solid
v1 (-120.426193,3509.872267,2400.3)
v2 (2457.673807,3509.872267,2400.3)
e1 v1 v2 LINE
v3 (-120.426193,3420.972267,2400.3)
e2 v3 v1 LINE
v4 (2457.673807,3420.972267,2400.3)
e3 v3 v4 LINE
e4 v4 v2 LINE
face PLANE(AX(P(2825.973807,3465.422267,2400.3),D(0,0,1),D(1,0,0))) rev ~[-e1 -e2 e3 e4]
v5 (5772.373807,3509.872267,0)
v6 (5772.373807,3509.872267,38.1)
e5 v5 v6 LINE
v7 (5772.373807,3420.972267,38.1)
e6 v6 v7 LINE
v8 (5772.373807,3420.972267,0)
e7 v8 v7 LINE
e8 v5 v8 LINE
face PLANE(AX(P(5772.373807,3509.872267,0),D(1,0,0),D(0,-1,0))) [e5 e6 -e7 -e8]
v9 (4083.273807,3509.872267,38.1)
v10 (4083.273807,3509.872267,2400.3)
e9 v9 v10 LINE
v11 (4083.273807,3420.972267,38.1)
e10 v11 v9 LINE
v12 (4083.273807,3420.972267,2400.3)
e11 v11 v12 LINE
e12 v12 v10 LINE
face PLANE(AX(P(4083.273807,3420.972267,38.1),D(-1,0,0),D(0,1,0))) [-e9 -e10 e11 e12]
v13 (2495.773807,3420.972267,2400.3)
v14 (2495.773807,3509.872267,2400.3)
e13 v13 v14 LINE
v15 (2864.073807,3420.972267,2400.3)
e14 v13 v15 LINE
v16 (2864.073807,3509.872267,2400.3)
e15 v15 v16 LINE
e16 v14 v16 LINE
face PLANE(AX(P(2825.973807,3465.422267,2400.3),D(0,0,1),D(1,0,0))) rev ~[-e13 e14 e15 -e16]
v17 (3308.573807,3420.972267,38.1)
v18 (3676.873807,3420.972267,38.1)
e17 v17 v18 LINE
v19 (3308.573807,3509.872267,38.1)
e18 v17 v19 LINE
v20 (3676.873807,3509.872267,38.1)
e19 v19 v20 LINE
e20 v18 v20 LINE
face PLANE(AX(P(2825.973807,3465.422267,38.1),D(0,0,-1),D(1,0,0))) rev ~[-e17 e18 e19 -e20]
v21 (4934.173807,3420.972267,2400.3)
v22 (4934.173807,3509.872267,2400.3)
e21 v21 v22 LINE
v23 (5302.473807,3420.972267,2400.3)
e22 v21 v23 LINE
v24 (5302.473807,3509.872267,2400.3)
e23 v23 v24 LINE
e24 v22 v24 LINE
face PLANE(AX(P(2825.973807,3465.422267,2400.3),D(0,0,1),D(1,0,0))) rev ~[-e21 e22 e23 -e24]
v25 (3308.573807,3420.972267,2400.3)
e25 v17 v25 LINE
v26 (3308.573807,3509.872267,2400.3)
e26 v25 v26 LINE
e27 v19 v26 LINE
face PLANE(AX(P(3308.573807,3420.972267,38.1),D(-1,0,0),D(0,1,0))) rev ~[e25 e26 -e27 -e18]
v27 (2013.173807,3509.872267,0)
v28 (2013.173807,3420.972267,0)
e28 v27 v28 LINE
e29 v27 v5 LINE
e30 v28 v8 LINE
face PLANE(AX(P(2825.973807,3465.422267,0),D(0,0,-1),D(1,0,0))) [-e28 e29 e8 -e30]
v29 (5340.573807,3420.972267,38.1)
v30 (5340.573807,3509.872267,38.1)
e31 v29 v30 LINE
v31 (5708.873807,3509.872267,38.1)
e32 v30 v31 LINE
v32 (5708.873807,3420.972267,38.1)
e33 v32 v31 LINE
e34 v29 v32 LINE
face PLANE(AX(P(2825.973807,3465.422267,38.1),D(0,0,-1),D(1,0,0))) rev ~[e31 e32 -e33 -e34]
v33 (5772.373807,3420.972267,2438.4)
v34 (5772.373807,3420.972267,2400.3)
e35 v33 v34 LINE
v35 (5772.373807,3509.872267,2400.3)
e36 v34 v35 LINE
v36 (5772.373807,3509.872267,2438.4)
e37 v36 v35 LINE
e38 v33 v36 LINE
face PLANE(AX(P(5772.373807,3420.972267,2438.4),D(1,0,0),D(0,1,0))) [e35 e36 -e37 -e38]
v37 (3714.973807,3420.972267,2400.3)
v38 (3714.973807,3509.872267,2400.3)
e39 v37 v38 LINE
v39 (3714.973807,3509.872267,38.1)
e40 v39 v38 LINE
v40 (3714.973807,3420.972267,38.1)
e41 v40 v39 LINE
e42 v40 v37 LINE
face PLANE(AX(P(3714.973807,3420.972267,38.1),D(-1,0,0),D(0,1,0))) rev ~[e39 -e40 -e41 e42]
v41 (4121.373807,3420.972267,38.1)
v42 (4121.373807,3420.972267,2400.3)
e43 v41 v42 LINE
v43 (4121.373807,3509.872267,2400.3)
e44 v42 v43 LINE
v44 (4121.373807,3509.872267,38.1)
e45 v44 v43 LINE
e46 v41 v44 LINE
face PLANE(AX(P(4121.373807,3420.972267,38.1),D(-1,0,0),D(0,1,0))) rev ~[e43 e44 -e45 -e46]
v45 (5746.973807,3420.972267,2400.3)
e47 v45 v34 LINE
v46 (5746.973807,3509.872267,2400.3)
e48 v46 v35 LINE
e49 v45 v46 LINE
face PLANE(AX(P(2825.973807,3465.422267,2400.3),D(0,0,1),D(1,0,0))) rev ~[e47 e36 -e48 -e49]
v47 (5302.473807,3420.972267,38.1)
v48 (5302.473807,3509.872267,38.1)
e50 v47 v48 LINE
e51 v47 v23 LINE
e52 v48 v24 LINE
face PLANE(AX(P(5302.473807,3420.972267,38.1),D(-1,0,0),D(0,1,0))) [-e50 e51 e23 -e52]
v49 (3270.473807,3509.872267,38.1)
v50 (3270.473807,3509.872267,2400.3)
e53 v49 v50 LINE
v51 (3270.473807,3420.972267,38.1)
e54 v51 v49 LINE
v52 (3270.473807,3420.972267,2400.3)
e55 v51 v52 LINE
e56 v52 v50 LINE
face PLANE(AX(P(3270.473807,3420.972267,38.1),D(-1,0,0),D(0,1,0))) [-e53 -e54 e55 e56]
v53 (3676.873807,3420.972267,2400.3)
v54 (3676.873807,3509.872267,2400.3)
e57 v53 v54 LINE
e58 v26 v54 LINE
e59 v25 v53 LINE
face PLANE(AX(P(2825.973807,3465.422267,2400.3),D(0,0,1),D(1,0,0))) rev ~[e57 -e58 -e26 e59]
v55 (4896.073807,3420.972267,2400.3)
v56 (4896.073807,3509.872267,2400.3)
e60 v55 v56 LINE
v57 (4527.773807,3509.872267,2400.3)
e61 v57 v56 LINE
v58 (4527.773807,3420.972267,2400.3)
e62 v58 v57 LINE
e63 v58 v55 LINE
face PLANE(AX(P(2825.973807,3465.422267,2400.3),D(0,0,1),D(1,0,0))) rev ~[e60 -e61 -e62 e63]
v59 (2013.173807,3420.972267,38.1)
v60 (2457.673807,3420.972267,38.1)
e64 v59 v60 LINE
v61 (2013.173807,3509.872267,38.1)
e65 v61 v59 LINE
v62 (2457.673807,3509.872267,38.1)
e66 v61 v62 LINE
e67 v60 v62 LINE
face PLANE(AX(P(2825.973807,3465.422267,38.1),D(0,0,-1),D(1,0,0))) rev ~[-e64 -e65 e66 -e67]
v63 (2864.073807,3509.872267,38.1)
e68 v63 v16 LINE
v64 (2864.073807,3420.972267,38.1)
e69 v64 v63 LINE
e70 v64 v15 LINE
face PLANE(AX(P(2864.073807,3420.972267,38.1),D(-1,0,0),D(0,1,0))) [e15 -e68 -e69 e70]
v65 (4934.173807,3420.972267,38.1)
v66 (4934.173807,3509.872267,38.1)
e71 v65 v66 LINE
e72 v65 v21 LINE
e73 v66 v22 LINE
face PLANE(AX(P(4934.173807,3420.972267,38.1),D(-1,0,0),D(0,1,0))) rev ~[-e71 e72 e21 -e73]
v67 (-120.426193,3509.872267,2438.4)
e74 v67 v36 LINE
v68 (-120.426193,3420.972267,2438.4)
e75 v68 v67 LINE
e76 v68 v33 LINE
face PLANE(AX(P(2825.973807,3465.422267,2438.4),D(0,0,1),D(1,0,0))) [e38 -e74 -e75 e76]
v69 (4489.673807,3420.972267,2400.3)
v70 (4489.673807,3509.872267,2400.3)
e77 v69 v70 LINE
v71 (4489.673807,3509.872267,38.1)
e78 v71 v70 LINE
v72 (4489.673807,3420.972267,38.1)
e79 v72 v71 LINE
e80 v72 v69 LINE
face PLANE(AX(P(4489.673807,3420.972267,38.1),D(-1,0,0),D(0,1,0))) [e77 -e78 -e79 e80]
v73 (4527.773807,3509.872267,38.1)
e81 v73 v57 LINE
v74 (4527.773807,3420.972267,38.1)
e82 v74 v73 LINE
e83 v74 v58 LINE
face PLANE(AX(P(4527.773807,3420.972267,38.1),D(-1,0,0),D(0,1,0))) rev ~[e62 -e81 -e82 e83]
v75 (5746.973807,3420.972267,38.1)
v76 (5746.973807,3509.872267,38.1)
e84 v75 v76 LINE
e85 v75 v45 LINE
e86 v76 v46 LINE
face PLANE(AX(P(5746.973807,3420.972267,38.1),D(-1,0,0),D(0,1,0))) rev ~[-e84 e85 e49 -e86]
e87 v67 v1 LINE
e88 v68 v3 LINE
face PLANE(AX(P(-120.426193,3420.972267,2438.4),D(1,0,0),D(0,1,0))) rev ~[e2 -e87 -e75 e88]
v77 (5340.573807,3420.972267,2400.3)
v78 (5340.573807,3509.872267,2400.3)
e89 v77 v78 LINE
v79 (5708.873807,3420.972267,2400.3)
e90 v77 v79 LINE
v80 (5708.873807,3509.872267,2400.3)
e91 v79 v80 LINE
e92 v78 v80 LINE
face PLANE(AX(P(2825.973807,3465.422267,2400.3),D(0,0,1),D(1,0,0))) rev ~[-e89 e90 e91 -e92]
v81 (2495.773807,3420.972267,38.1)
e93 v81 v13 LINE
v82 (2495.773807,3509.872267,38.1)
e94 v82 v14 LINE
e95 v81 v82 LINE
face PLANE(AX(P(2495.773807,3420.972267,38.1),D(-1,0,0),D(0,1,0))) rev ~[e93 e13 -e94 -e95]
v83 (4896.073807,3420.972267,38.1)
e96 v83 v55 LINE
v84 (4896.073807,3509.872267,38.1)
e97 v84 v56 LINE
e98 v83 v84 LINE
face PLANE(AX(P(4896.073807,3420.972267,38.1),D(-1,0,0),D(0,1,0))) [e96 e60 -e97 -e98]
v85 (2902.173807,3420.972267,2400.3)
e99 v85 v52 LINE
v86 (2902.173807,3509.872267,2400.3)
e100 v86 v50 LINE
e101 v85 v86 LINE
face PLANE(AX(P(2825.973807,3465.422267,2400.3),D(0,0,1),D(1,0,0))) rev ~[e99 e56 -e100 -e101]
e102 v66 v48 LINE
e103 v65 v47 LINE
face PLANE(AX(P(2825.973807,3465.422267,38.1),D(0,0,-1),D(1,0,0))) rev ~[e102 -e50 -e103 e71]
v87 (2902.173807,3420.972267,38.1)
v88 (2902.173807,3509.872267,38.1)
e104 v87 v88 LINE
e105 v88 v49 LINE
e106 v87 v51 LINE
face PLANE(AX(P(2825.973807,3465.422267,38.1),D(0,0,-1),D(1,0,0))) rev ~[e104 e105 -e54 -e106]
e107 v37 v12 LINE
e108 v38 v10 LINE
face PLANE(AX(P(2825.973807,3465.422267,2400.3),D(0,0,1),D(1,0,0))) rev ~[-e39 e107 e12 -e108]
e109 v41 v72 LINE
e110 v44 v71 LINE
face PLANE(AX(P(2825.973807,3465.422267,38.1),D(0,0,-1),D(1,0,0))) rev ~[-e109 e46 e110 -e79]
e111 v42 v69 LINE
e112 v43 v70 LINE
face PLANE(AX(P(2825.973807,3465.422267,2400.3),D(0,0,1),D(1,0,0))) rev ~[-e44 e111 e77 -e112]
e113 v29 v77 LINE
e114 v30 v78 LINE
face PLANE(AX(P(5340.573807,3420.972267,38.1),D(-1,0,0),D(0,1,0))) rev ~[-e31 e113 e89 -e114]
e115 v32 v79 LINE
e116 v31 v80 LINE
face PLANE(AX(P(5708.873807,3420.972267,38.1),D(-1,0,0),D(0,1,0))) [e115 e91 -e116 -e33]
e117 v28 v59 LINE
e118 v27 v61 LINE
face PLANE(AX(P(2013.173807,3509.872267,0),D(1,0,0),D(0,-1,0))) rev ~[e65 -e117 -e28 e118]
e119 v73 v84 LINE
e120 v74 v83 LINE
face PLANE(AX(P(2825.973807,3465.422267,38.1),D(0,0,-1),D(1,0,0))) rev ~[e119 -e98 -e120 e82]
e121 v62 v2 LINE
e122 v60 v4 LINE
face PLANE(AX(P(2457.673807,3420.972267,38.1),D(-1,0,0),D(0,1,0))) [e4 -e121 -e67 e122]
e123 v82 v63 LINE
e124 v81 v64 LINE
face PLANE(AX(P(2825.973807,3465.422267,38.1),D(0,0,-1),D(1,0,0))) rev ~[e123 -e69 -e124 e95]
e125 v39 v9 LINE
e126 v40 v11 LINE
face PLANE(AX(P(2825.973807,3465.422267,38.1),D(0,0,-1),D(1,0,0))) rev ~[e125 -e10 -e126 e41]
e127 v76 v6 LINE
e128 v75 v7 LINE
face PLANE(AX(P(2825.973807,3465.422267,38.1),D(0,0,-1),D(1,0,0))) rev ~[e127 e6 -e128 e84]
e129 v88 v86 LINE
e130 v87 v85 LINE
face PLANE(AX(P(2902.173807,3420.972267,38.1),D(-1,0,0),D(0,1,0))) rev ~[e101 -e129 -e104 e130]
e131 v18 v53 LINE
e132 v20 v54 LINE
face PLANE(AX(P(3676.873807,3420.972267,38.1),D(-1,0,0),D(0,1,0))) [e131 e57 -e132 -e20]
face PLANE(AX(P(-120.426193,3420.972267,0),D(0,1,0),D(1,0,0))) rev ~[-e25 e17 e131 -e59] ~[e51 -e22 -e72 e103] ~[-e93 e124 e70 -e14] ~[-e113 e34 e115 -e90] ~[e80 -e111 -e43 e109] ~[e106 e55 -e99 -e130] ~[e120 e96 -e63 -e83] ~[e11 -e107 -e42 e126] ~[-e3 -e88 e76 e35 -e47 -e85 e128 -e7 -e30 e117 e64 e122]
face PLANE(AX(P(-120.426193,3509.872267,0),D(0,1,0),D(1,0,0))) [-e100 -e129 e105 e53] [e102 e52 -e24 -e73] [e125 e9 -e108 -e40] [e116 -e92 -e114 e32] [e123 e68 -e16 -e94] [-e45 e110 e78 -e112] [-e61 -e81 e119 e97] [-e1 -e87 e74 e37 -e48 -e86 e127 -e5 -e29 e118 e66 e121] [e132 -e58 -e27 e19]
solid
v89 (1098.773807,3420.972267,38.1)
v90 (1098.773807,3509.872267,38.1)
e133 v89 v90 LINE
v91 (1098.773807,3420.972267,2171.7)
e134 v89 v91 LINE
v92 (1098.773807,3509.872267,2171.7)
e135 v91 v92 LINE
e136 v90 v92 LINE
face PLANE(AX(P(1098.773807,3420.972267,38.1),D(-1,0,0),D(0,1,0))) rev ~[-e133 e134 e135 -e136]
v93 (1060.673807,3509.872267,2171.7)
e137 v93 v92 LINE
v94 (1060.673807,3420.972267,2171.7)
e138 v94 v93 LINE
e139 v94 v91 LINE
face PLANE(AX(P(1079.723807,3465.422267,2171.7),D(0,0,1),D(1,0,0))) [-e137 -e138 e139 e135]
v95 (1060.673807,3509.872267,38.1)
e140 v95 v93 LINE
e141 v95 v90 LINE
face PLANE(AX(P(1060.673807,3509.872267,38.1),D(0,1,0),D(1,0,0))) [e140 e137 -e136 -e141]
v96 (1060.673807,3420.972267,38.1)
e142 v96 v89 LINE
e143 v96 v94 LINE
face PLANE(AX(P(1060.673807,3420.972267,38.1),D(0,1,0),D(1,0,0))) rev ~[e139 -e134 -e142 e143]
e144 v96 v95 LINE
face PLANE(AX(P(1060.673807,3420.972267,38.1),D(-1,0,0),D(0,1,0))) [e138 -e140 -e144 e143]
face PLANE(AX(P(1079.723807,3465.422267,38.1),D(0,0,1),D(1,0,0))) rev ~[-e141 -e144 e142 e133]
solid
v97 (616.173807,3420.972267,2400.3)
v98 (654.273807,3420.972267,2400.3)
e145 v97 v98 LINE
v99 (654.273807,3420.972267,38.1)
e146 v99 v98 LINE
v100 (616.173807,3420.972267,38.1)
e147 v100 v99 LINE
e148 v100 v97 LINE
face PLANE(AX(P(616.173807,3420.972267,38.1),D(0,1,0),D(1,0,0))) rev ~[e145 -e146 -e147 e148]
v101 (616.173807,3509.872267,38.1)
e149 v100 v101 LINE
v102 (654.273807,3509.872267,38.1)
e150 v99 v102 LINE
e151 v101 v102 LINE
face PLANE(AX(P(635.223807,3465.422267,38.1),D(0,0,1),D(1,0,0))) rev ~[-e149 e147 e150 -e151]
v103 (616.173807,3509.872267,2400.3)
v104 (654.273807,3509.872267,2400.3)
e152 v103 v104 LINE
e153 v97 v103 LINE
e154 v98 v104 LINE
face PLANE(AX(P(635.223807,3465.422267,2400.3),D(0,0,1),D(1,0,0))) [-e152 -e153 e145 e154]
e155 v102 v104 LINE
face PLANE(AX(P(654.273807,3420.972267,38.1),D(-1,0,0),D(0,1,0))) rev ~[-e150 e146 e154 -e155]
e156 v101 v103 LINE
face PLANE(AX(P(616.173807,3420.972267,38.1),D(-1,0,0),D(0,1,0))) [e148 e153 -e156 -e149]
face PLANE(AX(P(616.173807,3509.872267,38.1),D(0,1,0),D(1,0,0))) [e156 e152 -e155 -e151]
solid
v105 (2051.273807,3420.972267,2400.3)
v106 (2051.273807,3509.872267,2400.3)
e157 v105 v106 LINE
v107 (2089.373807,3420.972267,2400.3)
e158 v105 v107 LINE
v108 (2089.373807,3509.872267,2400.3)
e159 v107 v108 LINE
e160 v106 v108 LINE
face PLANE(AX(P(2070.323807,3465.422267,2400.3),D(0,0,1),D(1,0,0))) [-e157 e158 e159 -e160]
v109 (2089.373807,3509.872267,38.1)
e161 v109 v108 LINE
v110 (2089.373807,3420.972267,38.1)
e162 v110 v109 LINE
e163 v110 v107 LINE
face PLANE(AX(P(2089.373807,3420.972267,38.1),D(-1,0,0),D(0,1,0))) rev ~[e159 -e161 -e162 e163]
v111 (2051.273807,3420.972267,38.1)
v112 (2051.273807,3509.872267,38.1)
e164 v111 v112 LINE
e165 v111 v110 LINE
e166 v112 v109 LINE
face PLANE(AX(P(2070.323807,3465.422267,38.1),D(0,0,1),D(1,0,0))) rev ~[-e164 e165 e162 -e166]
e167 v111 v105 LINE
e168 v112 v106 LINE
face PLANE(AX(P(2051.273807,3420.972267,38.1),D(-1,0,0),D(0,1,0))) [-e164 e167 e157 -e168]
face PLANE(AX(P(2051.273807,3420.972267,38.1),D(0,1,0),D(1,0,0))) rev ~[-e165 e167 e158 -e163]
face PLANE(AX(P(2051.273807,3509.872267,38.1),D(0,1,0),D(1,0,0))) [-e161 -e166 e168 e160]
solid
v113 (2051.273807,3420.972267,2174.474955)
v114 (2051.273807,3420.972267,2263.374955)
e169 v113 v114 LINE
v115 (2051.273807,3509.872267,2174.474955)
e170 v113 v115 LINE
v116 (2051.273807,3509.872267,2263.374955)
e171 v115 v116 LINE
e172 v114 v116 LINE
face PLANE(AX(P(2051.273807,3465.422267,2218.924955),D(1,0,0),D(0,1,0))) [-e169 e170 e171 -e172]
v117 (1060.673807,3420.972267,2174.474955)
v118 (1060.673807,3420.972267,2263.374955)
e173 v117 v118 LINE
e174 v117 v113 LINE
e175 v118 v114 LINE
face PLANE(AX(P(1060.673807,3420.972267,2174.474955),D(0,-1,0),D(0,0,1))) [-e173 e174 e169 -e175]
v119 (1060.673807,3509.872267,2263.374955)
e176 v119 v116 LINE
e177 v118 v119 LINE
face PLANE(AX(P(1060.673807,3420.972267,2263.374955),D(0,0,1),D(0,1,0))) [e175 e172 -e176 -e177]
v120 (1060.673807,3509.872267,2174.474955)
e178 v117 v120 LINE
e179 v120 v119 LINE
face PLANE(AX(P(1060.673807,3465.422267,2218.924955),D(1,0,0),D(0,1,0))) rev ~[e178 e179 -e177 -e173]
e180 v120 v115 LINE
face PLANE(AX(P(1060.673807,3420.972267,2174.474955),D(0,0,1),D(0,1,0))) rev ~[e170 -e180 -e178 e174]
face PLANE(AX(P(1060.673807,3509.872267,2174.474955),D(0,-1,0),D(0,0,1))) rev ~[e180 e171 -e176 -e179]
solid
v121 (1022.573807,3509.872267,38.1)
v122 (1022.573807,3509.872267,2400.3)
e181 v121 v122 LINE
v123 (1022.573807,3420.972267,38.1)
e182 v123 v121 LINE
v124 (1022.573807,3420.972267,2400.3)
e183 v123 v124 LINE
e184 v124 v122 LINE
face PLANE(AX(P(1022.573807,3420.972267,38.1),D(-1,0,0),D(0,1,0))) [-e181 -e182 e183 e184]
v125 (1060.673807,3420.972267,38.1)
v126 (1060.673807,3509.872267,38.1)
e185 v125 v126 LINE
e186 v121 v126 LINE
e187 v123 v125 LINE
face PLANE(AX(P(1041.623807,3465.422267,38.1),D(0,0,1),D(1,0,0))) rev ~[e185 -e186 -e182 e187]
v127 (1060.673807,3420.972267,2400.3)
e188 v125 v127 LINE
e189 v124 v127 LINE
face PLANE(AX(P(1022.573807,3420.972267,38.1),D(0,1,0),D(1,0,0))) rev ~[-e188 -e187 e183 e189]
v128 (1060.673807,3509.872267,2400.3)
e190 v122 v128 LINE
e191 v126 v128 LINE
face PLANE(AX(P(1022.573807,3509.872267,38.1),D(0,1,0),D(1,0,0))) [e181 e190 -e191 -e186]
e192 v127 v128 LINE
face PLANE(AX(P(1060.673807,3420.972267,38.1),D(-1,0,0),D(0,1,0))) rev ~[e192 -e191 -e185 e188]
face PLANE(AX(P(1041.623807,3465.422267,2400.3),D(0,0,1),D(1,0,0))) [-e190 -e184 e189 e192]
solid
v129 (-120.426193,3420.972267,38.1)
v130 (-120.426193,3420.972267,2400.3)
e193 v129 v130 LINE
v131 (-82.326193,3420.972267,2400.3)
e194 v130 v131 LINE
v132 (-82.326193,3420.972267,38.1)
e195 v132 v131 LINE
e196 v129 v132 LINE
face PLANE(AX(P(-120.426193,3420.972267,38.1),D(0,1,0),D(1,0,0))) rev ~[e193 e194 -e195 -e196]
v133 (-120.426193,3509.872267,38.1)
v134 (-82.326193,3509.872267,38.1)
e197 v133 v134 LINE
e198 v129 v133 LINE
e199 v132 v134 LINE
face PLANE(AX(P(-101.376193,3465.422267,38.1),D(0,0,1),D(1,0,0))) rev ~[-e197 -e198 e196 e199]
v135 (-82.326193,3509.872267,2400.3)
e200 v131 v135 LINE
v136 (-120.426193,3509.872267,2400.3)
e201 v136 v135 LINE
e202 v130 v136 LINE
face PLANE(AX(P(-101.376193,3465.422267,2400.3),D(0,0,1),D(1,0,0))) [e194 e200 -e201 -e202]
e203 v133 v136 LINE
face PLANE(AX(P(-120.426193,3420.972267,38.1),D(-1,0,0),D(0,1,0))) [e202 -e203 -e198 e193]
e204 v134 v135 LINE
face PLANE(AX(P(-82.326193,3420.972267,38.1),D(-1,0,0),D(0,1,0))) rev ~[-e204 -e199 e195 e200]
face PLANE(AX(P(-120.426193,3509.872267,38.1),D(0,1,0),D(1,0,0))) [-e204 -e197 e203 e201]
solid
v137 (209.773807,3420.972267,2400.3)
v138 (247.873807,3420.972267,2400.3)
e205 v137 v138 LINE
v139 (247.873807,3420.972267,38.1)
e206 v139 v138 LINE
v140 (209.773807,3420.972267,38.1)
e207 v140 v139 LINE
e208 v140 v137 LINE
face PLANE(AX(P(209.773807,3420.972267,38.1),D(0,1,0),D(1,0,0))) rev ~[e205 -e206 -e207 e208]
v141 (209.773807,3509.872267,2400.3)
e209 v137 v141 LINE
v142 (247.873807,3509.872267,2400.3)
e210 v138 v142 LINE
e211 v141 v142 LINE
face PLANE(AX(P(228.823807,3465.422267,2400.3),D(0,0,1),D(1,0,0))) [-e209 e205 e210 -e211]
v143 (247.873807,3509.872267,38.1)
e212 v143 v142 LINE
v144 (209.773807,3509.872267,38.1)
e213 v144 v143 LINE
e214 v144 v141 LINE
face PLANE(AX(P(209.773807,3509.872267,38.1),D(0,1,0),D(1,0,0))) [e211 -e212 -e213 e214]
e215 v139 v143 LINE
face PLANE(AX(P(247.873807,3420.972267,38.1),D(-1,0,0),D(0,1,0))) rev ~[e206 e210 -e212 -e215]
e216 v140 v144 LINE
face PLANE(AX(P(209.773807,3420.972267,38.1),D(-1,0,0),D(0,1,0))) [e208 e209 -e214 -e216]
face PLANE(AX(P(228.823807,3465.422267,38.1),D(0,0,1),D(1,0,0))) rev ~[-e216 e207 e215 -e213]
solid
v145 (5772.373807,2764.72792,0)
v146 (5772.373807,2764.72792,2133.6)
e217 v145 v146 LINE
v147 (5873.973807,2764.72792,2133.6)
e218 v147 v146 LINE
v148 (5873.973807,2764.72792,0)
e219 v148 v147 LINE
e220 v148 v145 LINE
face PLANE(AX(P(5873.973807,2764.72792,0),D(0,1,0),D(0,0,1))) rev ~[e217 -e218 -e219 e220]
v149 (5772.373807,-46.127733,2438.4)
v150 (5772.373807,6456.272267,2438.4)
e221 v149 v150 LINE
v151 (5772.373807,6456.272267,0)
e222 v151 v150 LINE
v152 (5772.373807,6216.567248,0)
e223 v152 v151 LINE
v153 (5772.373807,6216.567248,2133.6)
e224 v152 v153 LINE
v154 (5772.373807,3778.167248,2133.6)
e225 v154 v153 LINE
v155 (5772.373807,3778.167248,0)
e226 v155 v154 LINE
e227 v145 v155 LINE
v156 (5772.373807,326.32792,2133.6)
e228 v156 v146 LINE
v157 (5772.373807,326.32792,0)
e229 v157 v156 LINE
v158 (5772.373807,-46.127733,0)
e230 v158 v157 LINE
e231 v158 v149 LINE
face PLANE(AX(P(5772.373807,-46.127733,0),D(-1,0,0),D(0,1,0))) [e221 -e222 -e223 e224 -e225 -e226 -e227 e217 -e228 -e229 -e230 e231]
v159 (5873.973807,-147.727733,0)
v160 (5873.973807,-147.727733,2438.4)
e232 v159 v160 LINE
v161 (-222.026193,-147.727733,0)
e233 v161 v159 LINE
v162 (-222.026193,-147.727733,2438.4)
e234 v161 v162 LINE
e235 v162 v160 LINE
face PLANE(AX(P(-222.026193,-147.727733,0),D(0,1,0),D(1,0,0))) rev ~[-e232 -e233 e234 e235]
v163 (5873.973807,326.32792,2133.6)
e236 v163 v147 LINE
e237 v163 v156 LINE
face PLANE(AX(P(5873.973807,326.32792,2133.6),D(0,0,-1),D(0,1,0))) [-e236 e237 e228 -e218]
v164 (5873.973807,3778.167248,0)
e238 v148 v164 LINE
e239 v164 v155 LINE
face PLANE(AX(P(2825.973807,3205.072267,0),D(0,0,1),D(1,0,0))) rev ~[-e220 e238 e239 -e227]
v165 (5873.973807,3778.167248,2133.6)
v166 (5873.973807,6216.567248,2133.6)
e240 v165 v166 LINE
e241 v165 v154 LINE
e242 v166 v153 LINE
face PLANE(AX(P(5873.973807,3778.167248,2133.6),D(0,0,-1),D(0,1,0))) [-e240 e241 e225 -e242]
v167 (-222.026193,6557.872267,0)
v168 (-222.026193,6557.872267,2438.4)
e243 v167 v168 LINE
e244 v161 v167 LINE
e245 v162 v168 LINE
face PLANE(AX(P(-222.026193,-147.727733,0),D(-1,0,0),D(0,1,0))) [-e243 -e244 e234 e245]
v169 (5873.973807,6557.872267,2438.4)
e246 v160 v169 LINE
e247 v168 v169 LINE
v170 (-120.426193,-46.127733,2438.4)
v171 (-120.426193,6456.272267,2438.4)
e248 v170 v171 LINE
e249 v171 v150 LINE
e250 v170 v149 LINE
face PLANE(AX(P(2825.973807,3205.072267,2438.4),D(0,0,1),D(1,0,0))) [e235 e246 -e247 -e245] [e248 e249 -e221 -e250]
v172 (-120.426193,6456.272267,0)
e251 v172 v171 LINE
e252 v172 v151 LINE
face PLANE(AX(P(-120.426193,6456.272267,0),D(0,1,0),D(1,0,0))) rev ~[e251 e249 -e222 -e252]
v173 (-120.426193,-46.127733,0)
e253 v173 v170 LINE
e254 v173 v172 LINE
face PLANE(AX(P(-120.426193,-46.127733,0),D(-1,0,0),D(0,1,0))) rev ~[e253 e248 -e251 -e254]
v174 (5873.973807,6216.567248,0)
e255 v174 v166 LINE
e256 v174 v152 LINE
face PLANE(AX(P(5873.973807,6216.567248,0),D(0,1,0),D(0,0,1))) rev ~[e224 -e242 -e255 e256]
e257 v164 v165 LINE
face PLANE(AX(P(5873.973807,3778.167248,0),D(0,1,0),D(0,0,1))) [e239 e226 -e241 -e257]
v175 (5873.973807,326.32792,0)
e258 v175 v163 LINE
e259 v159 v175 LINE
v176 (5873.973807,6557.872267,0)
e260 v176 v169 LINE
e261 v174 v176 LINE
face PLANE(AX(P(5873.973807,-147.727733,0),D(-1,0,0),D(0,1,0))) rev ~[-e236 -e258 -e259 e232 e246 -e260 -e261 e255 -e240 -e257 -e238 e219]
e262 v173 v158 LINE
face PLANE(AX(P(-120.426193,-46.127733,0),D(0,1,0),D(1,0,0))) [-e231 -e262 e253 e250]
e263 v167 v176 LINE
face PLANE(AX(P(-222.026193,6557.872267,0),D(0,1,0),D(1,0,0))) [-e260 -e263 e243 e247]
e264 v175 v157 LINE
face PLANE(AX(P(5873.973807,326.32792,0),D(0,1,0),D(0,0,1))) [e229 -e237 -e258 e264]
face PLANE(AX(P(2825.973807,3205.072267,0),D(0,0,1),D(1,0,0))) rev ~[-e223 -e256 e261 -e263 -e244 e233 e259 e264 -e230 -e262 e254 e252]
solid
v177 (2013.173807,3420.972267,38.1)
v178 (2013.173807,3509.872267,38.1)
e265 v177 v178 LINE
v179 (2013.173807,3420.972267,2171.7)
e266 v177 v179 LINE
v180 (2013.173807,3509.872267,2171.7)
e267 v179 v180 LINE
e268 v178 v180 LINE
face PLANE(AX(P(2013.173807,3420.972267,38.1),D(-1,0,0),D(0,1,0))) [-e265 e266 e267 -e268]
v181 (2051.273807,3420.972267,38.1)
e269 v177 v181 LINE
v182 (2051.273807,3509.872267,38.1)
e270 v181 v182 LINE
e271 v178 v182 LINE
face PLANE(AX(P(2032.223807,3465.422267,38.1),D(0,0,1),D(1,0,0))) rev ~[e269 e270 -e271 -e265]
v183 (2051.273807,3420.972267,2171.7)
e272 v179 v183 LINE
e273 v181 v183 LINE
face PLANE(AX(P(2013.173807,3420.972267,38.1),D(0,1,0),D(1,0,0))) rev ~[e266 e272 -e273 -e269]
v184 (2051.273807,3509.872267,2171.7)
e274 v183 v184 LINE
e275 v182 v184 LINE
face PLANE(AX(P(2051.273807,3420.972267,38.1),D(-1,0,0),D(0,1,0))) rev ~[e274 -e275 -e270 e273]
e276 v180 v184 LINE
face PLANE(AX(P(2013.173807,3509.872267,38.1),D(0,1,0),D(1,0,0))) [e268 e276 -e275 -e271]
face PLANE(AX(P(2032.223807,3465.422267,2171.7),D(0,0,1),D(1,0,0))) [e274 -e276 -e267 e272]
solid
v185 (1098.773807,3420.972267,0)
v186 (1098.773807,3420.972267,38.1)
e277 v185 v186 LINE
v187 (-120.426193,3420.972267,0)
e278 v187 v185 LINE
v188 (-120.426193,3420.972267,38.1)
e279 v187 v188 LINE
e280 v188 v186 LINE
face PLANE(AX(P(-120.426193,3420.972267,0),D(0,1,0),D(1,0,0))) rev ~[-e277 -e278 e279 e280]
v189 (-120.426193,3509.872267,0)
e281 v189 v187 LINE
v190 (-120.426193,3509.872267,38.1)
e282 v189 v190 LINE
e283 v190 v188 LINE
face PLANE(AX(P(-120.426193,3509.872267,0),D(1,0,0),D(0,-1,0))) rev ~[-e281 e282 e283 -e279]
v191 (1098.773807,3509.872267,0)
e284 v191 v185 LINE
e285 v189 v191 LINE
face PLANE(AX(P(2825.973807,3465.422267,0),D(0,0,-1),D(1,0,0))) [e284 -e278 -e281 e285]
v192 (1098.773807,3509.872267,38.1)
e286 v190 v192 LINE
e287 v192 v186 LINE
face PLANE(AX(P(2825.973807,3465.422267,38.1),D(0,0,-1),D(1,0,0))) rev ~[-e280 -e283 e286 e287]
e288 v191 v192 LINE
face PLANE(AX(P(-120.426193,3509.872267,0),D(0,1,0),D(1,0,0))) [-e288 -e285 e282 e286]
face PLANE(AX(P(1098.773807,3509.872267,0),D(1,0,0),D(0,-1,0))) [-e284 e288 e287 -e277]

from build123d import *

# Parameters (mm, degrees)
F0_W      = 6096
F0_H      = 6705.6
F0_W_2    = 5892.8
F0_H_2    = 6502.4
F1_DEPTH  = 2438.4
F2_W      = 2438.4
F2_H      = 2133.6
F3_DEPTH  = 101.6
F4_W      = 5892.8
F4_H      = 88.9
F5_DEPTH  = 38.1
F6_W      = 5892.8
F6_H      = 88.9
F7_DEPTH  = 38.1
F8_W      = 914.4
F8_H      = 88.9
F9_DEPTH  = 38.1
F10_W     = 38.1
F10_H     = 88.9
F11_DEPTH = 2133.6
F12_W     = 38.1
F12_H     = 88.9
F13_DEPTH = 2362.2
F14_W     = 88.9
F14_H     = 88.9
F15_DEPTH = 990.6
F16_W     = 38.1
F16_H     = 88.9
F17_DEPTH = 2362.2
F18_W     = 38.1
F18_H     = 88.9
F19_DEPTH = 2362.2


with BuildPart() as f1:
    # F0 (on Top) → F1 (new body)
    with BuildSketch(Plane.XY):
        with Locations((2825.973807, 3205.072267)):
            Rectangle(F0_W, F0_H)
        with Locations((2825.973807, 3205.072267)):
            Rectangle(F0_W_2, F0_H_2, mode=Mode.SUBTRACT)
    extrude(amount=F1_DEPTH)

    # F2 (on face) → F3 (cut, through all)
    with BuildSketch(Plane.YZ.offset(5873.973807)):
        with Locations((4997.367248, 1066.8)):
            Rectangle(F2_W, F2_H)
        with Locations((1545.52792, 1066.8)):
            Rectangle(F2_W, F2_H)
    extrude(amount=-F3_DEPTH, mode=Mode.SUBTRACT)


with BuildPart() as f5:
    # F4 (on face) → F5 (new body)
    with BuildSketch(Plane.XY.offset(2438.4)):
        with Locations((2825.973807, 3465.422267)):
            Rectangle(F4_W, F4_H)
    extrude(amount=-F5_DEPTH)



with BuildPart() as f7:
    # F6 (on face) → F7 (new body)
    with BuildSketch(Plane(origin=(0, 0, 0), x_dir=(1, 0, 0), z_dir=(0, 0, -1))):
        with Locations((2825.973807, -3465.422267)):
            Rectangle(F6_W, F6_H)
    extrude(amount=-F7_DEPTH)

    # F8 (on face) → F9 (cut, through all)
    with BuildSketch(Plane(origin=(0, 0, 0), x_dir=(1, 0, 0), z_dir=(0, 0, -1))):
        with Locations((1555.973807, -3465.422267)):
            Rectangle(F8_W, F8_H)
    extrude(amount=-F9_DEPTH, mode=Mode.SUBTRACT)


with BuildPart() as f11:
    # F10 (on face) → F11 (new body)
    with BuildSketch(Plane.XY.offset(38.1)):
        with Locations((2032.223807, 3465.422267)):
            Rectangle(F10_W, F10_H)
        with Locations((1079.723807, 3465.422267)):
            Rectangle(F10_W, F10_H)
    extrude(amount=F11_DEPTH)


with BuildPart() as f13:
    # F12 (on face) → F13 (new body)
    with BuildSketch(Plane.XY.offset(38.1)):
        with Locations((2070.323807, 3465.422267)):
            Rectangle(F12_W, F12_H)
        with Locations((1041.623807, 3465.422267)):
            Rectangle(F12_W, F12_H)
    extrude(amount=F13_DEPTH)


with BuildPart() as f15:
    # F14 (on face) → F15 (new body, through all)
    with BuildSketch(Plane.YZ.offset(1060.673807)):
        with Locations((3465.422267, 2218.924955)):
            Rectangle(F14_W, F14_H)
    extrude(amount=F15_DEPTH)


with BuildPart() as f5_1:
    add(f5.part)

    add(f7.part)  # F17 merges F7
    # F16 (on face) → F17 (join, through all)
    with BuildSketch(Plane.XY.offset(38.1)):
        with Locations((2476.723807, 3465.422267)):
            Rectangle(F16_W, F16_H)
        with Locations((2883.123807, 3465.422267)):
            Rectangle(F16_W, F16_H)
        with Locations((3289.523807, 3465.422267)):
            Rectangle(F16_W, F16_H)
        with Locations((3695.923807, 3465.422267)):
            Rectangle(F16_W, F16_H)
        with Locations((4102.323807, 3465.422267)):
            Rectangle(F16_W, F16_H)
        with Locations((4508.723807, 3465.422267)):
            Rectangle(F16_W, F16_H)
        with Locations((4915.123807, 3465.422267)):
            Rectangle(F16_W, F16_H)
        with Locations((5321.523807, 3465.422267)):
            Rectangle(F16_W, F16_H)
        with Locations((5727.923807, 3465.422267)):
            Rectangle(F16_W, F16_H)
    extrude(amount=F17_DEPTH)


with BuildPart() as f19:
    # F18 (on face) → F19 (new body, through all)
    with BuildSketch(Plane.XY.offset(38.1)):
        with Locations((635.223807, 3465.422267)):
            Rectangle(F18_W, F18_H)
        with Locations((228.823807, 3465.422267)):
            Rectangle(F18_W, F18_H)
        with Locations((-101.376193, 3465.422267)):
            Rectangle(F18_W, F18_H)
    extrude(amount=F19_DEPTH)


solid = Compound([f1.part, f11.part, f13.part, f15.part, f5_1.part, f19.part])
